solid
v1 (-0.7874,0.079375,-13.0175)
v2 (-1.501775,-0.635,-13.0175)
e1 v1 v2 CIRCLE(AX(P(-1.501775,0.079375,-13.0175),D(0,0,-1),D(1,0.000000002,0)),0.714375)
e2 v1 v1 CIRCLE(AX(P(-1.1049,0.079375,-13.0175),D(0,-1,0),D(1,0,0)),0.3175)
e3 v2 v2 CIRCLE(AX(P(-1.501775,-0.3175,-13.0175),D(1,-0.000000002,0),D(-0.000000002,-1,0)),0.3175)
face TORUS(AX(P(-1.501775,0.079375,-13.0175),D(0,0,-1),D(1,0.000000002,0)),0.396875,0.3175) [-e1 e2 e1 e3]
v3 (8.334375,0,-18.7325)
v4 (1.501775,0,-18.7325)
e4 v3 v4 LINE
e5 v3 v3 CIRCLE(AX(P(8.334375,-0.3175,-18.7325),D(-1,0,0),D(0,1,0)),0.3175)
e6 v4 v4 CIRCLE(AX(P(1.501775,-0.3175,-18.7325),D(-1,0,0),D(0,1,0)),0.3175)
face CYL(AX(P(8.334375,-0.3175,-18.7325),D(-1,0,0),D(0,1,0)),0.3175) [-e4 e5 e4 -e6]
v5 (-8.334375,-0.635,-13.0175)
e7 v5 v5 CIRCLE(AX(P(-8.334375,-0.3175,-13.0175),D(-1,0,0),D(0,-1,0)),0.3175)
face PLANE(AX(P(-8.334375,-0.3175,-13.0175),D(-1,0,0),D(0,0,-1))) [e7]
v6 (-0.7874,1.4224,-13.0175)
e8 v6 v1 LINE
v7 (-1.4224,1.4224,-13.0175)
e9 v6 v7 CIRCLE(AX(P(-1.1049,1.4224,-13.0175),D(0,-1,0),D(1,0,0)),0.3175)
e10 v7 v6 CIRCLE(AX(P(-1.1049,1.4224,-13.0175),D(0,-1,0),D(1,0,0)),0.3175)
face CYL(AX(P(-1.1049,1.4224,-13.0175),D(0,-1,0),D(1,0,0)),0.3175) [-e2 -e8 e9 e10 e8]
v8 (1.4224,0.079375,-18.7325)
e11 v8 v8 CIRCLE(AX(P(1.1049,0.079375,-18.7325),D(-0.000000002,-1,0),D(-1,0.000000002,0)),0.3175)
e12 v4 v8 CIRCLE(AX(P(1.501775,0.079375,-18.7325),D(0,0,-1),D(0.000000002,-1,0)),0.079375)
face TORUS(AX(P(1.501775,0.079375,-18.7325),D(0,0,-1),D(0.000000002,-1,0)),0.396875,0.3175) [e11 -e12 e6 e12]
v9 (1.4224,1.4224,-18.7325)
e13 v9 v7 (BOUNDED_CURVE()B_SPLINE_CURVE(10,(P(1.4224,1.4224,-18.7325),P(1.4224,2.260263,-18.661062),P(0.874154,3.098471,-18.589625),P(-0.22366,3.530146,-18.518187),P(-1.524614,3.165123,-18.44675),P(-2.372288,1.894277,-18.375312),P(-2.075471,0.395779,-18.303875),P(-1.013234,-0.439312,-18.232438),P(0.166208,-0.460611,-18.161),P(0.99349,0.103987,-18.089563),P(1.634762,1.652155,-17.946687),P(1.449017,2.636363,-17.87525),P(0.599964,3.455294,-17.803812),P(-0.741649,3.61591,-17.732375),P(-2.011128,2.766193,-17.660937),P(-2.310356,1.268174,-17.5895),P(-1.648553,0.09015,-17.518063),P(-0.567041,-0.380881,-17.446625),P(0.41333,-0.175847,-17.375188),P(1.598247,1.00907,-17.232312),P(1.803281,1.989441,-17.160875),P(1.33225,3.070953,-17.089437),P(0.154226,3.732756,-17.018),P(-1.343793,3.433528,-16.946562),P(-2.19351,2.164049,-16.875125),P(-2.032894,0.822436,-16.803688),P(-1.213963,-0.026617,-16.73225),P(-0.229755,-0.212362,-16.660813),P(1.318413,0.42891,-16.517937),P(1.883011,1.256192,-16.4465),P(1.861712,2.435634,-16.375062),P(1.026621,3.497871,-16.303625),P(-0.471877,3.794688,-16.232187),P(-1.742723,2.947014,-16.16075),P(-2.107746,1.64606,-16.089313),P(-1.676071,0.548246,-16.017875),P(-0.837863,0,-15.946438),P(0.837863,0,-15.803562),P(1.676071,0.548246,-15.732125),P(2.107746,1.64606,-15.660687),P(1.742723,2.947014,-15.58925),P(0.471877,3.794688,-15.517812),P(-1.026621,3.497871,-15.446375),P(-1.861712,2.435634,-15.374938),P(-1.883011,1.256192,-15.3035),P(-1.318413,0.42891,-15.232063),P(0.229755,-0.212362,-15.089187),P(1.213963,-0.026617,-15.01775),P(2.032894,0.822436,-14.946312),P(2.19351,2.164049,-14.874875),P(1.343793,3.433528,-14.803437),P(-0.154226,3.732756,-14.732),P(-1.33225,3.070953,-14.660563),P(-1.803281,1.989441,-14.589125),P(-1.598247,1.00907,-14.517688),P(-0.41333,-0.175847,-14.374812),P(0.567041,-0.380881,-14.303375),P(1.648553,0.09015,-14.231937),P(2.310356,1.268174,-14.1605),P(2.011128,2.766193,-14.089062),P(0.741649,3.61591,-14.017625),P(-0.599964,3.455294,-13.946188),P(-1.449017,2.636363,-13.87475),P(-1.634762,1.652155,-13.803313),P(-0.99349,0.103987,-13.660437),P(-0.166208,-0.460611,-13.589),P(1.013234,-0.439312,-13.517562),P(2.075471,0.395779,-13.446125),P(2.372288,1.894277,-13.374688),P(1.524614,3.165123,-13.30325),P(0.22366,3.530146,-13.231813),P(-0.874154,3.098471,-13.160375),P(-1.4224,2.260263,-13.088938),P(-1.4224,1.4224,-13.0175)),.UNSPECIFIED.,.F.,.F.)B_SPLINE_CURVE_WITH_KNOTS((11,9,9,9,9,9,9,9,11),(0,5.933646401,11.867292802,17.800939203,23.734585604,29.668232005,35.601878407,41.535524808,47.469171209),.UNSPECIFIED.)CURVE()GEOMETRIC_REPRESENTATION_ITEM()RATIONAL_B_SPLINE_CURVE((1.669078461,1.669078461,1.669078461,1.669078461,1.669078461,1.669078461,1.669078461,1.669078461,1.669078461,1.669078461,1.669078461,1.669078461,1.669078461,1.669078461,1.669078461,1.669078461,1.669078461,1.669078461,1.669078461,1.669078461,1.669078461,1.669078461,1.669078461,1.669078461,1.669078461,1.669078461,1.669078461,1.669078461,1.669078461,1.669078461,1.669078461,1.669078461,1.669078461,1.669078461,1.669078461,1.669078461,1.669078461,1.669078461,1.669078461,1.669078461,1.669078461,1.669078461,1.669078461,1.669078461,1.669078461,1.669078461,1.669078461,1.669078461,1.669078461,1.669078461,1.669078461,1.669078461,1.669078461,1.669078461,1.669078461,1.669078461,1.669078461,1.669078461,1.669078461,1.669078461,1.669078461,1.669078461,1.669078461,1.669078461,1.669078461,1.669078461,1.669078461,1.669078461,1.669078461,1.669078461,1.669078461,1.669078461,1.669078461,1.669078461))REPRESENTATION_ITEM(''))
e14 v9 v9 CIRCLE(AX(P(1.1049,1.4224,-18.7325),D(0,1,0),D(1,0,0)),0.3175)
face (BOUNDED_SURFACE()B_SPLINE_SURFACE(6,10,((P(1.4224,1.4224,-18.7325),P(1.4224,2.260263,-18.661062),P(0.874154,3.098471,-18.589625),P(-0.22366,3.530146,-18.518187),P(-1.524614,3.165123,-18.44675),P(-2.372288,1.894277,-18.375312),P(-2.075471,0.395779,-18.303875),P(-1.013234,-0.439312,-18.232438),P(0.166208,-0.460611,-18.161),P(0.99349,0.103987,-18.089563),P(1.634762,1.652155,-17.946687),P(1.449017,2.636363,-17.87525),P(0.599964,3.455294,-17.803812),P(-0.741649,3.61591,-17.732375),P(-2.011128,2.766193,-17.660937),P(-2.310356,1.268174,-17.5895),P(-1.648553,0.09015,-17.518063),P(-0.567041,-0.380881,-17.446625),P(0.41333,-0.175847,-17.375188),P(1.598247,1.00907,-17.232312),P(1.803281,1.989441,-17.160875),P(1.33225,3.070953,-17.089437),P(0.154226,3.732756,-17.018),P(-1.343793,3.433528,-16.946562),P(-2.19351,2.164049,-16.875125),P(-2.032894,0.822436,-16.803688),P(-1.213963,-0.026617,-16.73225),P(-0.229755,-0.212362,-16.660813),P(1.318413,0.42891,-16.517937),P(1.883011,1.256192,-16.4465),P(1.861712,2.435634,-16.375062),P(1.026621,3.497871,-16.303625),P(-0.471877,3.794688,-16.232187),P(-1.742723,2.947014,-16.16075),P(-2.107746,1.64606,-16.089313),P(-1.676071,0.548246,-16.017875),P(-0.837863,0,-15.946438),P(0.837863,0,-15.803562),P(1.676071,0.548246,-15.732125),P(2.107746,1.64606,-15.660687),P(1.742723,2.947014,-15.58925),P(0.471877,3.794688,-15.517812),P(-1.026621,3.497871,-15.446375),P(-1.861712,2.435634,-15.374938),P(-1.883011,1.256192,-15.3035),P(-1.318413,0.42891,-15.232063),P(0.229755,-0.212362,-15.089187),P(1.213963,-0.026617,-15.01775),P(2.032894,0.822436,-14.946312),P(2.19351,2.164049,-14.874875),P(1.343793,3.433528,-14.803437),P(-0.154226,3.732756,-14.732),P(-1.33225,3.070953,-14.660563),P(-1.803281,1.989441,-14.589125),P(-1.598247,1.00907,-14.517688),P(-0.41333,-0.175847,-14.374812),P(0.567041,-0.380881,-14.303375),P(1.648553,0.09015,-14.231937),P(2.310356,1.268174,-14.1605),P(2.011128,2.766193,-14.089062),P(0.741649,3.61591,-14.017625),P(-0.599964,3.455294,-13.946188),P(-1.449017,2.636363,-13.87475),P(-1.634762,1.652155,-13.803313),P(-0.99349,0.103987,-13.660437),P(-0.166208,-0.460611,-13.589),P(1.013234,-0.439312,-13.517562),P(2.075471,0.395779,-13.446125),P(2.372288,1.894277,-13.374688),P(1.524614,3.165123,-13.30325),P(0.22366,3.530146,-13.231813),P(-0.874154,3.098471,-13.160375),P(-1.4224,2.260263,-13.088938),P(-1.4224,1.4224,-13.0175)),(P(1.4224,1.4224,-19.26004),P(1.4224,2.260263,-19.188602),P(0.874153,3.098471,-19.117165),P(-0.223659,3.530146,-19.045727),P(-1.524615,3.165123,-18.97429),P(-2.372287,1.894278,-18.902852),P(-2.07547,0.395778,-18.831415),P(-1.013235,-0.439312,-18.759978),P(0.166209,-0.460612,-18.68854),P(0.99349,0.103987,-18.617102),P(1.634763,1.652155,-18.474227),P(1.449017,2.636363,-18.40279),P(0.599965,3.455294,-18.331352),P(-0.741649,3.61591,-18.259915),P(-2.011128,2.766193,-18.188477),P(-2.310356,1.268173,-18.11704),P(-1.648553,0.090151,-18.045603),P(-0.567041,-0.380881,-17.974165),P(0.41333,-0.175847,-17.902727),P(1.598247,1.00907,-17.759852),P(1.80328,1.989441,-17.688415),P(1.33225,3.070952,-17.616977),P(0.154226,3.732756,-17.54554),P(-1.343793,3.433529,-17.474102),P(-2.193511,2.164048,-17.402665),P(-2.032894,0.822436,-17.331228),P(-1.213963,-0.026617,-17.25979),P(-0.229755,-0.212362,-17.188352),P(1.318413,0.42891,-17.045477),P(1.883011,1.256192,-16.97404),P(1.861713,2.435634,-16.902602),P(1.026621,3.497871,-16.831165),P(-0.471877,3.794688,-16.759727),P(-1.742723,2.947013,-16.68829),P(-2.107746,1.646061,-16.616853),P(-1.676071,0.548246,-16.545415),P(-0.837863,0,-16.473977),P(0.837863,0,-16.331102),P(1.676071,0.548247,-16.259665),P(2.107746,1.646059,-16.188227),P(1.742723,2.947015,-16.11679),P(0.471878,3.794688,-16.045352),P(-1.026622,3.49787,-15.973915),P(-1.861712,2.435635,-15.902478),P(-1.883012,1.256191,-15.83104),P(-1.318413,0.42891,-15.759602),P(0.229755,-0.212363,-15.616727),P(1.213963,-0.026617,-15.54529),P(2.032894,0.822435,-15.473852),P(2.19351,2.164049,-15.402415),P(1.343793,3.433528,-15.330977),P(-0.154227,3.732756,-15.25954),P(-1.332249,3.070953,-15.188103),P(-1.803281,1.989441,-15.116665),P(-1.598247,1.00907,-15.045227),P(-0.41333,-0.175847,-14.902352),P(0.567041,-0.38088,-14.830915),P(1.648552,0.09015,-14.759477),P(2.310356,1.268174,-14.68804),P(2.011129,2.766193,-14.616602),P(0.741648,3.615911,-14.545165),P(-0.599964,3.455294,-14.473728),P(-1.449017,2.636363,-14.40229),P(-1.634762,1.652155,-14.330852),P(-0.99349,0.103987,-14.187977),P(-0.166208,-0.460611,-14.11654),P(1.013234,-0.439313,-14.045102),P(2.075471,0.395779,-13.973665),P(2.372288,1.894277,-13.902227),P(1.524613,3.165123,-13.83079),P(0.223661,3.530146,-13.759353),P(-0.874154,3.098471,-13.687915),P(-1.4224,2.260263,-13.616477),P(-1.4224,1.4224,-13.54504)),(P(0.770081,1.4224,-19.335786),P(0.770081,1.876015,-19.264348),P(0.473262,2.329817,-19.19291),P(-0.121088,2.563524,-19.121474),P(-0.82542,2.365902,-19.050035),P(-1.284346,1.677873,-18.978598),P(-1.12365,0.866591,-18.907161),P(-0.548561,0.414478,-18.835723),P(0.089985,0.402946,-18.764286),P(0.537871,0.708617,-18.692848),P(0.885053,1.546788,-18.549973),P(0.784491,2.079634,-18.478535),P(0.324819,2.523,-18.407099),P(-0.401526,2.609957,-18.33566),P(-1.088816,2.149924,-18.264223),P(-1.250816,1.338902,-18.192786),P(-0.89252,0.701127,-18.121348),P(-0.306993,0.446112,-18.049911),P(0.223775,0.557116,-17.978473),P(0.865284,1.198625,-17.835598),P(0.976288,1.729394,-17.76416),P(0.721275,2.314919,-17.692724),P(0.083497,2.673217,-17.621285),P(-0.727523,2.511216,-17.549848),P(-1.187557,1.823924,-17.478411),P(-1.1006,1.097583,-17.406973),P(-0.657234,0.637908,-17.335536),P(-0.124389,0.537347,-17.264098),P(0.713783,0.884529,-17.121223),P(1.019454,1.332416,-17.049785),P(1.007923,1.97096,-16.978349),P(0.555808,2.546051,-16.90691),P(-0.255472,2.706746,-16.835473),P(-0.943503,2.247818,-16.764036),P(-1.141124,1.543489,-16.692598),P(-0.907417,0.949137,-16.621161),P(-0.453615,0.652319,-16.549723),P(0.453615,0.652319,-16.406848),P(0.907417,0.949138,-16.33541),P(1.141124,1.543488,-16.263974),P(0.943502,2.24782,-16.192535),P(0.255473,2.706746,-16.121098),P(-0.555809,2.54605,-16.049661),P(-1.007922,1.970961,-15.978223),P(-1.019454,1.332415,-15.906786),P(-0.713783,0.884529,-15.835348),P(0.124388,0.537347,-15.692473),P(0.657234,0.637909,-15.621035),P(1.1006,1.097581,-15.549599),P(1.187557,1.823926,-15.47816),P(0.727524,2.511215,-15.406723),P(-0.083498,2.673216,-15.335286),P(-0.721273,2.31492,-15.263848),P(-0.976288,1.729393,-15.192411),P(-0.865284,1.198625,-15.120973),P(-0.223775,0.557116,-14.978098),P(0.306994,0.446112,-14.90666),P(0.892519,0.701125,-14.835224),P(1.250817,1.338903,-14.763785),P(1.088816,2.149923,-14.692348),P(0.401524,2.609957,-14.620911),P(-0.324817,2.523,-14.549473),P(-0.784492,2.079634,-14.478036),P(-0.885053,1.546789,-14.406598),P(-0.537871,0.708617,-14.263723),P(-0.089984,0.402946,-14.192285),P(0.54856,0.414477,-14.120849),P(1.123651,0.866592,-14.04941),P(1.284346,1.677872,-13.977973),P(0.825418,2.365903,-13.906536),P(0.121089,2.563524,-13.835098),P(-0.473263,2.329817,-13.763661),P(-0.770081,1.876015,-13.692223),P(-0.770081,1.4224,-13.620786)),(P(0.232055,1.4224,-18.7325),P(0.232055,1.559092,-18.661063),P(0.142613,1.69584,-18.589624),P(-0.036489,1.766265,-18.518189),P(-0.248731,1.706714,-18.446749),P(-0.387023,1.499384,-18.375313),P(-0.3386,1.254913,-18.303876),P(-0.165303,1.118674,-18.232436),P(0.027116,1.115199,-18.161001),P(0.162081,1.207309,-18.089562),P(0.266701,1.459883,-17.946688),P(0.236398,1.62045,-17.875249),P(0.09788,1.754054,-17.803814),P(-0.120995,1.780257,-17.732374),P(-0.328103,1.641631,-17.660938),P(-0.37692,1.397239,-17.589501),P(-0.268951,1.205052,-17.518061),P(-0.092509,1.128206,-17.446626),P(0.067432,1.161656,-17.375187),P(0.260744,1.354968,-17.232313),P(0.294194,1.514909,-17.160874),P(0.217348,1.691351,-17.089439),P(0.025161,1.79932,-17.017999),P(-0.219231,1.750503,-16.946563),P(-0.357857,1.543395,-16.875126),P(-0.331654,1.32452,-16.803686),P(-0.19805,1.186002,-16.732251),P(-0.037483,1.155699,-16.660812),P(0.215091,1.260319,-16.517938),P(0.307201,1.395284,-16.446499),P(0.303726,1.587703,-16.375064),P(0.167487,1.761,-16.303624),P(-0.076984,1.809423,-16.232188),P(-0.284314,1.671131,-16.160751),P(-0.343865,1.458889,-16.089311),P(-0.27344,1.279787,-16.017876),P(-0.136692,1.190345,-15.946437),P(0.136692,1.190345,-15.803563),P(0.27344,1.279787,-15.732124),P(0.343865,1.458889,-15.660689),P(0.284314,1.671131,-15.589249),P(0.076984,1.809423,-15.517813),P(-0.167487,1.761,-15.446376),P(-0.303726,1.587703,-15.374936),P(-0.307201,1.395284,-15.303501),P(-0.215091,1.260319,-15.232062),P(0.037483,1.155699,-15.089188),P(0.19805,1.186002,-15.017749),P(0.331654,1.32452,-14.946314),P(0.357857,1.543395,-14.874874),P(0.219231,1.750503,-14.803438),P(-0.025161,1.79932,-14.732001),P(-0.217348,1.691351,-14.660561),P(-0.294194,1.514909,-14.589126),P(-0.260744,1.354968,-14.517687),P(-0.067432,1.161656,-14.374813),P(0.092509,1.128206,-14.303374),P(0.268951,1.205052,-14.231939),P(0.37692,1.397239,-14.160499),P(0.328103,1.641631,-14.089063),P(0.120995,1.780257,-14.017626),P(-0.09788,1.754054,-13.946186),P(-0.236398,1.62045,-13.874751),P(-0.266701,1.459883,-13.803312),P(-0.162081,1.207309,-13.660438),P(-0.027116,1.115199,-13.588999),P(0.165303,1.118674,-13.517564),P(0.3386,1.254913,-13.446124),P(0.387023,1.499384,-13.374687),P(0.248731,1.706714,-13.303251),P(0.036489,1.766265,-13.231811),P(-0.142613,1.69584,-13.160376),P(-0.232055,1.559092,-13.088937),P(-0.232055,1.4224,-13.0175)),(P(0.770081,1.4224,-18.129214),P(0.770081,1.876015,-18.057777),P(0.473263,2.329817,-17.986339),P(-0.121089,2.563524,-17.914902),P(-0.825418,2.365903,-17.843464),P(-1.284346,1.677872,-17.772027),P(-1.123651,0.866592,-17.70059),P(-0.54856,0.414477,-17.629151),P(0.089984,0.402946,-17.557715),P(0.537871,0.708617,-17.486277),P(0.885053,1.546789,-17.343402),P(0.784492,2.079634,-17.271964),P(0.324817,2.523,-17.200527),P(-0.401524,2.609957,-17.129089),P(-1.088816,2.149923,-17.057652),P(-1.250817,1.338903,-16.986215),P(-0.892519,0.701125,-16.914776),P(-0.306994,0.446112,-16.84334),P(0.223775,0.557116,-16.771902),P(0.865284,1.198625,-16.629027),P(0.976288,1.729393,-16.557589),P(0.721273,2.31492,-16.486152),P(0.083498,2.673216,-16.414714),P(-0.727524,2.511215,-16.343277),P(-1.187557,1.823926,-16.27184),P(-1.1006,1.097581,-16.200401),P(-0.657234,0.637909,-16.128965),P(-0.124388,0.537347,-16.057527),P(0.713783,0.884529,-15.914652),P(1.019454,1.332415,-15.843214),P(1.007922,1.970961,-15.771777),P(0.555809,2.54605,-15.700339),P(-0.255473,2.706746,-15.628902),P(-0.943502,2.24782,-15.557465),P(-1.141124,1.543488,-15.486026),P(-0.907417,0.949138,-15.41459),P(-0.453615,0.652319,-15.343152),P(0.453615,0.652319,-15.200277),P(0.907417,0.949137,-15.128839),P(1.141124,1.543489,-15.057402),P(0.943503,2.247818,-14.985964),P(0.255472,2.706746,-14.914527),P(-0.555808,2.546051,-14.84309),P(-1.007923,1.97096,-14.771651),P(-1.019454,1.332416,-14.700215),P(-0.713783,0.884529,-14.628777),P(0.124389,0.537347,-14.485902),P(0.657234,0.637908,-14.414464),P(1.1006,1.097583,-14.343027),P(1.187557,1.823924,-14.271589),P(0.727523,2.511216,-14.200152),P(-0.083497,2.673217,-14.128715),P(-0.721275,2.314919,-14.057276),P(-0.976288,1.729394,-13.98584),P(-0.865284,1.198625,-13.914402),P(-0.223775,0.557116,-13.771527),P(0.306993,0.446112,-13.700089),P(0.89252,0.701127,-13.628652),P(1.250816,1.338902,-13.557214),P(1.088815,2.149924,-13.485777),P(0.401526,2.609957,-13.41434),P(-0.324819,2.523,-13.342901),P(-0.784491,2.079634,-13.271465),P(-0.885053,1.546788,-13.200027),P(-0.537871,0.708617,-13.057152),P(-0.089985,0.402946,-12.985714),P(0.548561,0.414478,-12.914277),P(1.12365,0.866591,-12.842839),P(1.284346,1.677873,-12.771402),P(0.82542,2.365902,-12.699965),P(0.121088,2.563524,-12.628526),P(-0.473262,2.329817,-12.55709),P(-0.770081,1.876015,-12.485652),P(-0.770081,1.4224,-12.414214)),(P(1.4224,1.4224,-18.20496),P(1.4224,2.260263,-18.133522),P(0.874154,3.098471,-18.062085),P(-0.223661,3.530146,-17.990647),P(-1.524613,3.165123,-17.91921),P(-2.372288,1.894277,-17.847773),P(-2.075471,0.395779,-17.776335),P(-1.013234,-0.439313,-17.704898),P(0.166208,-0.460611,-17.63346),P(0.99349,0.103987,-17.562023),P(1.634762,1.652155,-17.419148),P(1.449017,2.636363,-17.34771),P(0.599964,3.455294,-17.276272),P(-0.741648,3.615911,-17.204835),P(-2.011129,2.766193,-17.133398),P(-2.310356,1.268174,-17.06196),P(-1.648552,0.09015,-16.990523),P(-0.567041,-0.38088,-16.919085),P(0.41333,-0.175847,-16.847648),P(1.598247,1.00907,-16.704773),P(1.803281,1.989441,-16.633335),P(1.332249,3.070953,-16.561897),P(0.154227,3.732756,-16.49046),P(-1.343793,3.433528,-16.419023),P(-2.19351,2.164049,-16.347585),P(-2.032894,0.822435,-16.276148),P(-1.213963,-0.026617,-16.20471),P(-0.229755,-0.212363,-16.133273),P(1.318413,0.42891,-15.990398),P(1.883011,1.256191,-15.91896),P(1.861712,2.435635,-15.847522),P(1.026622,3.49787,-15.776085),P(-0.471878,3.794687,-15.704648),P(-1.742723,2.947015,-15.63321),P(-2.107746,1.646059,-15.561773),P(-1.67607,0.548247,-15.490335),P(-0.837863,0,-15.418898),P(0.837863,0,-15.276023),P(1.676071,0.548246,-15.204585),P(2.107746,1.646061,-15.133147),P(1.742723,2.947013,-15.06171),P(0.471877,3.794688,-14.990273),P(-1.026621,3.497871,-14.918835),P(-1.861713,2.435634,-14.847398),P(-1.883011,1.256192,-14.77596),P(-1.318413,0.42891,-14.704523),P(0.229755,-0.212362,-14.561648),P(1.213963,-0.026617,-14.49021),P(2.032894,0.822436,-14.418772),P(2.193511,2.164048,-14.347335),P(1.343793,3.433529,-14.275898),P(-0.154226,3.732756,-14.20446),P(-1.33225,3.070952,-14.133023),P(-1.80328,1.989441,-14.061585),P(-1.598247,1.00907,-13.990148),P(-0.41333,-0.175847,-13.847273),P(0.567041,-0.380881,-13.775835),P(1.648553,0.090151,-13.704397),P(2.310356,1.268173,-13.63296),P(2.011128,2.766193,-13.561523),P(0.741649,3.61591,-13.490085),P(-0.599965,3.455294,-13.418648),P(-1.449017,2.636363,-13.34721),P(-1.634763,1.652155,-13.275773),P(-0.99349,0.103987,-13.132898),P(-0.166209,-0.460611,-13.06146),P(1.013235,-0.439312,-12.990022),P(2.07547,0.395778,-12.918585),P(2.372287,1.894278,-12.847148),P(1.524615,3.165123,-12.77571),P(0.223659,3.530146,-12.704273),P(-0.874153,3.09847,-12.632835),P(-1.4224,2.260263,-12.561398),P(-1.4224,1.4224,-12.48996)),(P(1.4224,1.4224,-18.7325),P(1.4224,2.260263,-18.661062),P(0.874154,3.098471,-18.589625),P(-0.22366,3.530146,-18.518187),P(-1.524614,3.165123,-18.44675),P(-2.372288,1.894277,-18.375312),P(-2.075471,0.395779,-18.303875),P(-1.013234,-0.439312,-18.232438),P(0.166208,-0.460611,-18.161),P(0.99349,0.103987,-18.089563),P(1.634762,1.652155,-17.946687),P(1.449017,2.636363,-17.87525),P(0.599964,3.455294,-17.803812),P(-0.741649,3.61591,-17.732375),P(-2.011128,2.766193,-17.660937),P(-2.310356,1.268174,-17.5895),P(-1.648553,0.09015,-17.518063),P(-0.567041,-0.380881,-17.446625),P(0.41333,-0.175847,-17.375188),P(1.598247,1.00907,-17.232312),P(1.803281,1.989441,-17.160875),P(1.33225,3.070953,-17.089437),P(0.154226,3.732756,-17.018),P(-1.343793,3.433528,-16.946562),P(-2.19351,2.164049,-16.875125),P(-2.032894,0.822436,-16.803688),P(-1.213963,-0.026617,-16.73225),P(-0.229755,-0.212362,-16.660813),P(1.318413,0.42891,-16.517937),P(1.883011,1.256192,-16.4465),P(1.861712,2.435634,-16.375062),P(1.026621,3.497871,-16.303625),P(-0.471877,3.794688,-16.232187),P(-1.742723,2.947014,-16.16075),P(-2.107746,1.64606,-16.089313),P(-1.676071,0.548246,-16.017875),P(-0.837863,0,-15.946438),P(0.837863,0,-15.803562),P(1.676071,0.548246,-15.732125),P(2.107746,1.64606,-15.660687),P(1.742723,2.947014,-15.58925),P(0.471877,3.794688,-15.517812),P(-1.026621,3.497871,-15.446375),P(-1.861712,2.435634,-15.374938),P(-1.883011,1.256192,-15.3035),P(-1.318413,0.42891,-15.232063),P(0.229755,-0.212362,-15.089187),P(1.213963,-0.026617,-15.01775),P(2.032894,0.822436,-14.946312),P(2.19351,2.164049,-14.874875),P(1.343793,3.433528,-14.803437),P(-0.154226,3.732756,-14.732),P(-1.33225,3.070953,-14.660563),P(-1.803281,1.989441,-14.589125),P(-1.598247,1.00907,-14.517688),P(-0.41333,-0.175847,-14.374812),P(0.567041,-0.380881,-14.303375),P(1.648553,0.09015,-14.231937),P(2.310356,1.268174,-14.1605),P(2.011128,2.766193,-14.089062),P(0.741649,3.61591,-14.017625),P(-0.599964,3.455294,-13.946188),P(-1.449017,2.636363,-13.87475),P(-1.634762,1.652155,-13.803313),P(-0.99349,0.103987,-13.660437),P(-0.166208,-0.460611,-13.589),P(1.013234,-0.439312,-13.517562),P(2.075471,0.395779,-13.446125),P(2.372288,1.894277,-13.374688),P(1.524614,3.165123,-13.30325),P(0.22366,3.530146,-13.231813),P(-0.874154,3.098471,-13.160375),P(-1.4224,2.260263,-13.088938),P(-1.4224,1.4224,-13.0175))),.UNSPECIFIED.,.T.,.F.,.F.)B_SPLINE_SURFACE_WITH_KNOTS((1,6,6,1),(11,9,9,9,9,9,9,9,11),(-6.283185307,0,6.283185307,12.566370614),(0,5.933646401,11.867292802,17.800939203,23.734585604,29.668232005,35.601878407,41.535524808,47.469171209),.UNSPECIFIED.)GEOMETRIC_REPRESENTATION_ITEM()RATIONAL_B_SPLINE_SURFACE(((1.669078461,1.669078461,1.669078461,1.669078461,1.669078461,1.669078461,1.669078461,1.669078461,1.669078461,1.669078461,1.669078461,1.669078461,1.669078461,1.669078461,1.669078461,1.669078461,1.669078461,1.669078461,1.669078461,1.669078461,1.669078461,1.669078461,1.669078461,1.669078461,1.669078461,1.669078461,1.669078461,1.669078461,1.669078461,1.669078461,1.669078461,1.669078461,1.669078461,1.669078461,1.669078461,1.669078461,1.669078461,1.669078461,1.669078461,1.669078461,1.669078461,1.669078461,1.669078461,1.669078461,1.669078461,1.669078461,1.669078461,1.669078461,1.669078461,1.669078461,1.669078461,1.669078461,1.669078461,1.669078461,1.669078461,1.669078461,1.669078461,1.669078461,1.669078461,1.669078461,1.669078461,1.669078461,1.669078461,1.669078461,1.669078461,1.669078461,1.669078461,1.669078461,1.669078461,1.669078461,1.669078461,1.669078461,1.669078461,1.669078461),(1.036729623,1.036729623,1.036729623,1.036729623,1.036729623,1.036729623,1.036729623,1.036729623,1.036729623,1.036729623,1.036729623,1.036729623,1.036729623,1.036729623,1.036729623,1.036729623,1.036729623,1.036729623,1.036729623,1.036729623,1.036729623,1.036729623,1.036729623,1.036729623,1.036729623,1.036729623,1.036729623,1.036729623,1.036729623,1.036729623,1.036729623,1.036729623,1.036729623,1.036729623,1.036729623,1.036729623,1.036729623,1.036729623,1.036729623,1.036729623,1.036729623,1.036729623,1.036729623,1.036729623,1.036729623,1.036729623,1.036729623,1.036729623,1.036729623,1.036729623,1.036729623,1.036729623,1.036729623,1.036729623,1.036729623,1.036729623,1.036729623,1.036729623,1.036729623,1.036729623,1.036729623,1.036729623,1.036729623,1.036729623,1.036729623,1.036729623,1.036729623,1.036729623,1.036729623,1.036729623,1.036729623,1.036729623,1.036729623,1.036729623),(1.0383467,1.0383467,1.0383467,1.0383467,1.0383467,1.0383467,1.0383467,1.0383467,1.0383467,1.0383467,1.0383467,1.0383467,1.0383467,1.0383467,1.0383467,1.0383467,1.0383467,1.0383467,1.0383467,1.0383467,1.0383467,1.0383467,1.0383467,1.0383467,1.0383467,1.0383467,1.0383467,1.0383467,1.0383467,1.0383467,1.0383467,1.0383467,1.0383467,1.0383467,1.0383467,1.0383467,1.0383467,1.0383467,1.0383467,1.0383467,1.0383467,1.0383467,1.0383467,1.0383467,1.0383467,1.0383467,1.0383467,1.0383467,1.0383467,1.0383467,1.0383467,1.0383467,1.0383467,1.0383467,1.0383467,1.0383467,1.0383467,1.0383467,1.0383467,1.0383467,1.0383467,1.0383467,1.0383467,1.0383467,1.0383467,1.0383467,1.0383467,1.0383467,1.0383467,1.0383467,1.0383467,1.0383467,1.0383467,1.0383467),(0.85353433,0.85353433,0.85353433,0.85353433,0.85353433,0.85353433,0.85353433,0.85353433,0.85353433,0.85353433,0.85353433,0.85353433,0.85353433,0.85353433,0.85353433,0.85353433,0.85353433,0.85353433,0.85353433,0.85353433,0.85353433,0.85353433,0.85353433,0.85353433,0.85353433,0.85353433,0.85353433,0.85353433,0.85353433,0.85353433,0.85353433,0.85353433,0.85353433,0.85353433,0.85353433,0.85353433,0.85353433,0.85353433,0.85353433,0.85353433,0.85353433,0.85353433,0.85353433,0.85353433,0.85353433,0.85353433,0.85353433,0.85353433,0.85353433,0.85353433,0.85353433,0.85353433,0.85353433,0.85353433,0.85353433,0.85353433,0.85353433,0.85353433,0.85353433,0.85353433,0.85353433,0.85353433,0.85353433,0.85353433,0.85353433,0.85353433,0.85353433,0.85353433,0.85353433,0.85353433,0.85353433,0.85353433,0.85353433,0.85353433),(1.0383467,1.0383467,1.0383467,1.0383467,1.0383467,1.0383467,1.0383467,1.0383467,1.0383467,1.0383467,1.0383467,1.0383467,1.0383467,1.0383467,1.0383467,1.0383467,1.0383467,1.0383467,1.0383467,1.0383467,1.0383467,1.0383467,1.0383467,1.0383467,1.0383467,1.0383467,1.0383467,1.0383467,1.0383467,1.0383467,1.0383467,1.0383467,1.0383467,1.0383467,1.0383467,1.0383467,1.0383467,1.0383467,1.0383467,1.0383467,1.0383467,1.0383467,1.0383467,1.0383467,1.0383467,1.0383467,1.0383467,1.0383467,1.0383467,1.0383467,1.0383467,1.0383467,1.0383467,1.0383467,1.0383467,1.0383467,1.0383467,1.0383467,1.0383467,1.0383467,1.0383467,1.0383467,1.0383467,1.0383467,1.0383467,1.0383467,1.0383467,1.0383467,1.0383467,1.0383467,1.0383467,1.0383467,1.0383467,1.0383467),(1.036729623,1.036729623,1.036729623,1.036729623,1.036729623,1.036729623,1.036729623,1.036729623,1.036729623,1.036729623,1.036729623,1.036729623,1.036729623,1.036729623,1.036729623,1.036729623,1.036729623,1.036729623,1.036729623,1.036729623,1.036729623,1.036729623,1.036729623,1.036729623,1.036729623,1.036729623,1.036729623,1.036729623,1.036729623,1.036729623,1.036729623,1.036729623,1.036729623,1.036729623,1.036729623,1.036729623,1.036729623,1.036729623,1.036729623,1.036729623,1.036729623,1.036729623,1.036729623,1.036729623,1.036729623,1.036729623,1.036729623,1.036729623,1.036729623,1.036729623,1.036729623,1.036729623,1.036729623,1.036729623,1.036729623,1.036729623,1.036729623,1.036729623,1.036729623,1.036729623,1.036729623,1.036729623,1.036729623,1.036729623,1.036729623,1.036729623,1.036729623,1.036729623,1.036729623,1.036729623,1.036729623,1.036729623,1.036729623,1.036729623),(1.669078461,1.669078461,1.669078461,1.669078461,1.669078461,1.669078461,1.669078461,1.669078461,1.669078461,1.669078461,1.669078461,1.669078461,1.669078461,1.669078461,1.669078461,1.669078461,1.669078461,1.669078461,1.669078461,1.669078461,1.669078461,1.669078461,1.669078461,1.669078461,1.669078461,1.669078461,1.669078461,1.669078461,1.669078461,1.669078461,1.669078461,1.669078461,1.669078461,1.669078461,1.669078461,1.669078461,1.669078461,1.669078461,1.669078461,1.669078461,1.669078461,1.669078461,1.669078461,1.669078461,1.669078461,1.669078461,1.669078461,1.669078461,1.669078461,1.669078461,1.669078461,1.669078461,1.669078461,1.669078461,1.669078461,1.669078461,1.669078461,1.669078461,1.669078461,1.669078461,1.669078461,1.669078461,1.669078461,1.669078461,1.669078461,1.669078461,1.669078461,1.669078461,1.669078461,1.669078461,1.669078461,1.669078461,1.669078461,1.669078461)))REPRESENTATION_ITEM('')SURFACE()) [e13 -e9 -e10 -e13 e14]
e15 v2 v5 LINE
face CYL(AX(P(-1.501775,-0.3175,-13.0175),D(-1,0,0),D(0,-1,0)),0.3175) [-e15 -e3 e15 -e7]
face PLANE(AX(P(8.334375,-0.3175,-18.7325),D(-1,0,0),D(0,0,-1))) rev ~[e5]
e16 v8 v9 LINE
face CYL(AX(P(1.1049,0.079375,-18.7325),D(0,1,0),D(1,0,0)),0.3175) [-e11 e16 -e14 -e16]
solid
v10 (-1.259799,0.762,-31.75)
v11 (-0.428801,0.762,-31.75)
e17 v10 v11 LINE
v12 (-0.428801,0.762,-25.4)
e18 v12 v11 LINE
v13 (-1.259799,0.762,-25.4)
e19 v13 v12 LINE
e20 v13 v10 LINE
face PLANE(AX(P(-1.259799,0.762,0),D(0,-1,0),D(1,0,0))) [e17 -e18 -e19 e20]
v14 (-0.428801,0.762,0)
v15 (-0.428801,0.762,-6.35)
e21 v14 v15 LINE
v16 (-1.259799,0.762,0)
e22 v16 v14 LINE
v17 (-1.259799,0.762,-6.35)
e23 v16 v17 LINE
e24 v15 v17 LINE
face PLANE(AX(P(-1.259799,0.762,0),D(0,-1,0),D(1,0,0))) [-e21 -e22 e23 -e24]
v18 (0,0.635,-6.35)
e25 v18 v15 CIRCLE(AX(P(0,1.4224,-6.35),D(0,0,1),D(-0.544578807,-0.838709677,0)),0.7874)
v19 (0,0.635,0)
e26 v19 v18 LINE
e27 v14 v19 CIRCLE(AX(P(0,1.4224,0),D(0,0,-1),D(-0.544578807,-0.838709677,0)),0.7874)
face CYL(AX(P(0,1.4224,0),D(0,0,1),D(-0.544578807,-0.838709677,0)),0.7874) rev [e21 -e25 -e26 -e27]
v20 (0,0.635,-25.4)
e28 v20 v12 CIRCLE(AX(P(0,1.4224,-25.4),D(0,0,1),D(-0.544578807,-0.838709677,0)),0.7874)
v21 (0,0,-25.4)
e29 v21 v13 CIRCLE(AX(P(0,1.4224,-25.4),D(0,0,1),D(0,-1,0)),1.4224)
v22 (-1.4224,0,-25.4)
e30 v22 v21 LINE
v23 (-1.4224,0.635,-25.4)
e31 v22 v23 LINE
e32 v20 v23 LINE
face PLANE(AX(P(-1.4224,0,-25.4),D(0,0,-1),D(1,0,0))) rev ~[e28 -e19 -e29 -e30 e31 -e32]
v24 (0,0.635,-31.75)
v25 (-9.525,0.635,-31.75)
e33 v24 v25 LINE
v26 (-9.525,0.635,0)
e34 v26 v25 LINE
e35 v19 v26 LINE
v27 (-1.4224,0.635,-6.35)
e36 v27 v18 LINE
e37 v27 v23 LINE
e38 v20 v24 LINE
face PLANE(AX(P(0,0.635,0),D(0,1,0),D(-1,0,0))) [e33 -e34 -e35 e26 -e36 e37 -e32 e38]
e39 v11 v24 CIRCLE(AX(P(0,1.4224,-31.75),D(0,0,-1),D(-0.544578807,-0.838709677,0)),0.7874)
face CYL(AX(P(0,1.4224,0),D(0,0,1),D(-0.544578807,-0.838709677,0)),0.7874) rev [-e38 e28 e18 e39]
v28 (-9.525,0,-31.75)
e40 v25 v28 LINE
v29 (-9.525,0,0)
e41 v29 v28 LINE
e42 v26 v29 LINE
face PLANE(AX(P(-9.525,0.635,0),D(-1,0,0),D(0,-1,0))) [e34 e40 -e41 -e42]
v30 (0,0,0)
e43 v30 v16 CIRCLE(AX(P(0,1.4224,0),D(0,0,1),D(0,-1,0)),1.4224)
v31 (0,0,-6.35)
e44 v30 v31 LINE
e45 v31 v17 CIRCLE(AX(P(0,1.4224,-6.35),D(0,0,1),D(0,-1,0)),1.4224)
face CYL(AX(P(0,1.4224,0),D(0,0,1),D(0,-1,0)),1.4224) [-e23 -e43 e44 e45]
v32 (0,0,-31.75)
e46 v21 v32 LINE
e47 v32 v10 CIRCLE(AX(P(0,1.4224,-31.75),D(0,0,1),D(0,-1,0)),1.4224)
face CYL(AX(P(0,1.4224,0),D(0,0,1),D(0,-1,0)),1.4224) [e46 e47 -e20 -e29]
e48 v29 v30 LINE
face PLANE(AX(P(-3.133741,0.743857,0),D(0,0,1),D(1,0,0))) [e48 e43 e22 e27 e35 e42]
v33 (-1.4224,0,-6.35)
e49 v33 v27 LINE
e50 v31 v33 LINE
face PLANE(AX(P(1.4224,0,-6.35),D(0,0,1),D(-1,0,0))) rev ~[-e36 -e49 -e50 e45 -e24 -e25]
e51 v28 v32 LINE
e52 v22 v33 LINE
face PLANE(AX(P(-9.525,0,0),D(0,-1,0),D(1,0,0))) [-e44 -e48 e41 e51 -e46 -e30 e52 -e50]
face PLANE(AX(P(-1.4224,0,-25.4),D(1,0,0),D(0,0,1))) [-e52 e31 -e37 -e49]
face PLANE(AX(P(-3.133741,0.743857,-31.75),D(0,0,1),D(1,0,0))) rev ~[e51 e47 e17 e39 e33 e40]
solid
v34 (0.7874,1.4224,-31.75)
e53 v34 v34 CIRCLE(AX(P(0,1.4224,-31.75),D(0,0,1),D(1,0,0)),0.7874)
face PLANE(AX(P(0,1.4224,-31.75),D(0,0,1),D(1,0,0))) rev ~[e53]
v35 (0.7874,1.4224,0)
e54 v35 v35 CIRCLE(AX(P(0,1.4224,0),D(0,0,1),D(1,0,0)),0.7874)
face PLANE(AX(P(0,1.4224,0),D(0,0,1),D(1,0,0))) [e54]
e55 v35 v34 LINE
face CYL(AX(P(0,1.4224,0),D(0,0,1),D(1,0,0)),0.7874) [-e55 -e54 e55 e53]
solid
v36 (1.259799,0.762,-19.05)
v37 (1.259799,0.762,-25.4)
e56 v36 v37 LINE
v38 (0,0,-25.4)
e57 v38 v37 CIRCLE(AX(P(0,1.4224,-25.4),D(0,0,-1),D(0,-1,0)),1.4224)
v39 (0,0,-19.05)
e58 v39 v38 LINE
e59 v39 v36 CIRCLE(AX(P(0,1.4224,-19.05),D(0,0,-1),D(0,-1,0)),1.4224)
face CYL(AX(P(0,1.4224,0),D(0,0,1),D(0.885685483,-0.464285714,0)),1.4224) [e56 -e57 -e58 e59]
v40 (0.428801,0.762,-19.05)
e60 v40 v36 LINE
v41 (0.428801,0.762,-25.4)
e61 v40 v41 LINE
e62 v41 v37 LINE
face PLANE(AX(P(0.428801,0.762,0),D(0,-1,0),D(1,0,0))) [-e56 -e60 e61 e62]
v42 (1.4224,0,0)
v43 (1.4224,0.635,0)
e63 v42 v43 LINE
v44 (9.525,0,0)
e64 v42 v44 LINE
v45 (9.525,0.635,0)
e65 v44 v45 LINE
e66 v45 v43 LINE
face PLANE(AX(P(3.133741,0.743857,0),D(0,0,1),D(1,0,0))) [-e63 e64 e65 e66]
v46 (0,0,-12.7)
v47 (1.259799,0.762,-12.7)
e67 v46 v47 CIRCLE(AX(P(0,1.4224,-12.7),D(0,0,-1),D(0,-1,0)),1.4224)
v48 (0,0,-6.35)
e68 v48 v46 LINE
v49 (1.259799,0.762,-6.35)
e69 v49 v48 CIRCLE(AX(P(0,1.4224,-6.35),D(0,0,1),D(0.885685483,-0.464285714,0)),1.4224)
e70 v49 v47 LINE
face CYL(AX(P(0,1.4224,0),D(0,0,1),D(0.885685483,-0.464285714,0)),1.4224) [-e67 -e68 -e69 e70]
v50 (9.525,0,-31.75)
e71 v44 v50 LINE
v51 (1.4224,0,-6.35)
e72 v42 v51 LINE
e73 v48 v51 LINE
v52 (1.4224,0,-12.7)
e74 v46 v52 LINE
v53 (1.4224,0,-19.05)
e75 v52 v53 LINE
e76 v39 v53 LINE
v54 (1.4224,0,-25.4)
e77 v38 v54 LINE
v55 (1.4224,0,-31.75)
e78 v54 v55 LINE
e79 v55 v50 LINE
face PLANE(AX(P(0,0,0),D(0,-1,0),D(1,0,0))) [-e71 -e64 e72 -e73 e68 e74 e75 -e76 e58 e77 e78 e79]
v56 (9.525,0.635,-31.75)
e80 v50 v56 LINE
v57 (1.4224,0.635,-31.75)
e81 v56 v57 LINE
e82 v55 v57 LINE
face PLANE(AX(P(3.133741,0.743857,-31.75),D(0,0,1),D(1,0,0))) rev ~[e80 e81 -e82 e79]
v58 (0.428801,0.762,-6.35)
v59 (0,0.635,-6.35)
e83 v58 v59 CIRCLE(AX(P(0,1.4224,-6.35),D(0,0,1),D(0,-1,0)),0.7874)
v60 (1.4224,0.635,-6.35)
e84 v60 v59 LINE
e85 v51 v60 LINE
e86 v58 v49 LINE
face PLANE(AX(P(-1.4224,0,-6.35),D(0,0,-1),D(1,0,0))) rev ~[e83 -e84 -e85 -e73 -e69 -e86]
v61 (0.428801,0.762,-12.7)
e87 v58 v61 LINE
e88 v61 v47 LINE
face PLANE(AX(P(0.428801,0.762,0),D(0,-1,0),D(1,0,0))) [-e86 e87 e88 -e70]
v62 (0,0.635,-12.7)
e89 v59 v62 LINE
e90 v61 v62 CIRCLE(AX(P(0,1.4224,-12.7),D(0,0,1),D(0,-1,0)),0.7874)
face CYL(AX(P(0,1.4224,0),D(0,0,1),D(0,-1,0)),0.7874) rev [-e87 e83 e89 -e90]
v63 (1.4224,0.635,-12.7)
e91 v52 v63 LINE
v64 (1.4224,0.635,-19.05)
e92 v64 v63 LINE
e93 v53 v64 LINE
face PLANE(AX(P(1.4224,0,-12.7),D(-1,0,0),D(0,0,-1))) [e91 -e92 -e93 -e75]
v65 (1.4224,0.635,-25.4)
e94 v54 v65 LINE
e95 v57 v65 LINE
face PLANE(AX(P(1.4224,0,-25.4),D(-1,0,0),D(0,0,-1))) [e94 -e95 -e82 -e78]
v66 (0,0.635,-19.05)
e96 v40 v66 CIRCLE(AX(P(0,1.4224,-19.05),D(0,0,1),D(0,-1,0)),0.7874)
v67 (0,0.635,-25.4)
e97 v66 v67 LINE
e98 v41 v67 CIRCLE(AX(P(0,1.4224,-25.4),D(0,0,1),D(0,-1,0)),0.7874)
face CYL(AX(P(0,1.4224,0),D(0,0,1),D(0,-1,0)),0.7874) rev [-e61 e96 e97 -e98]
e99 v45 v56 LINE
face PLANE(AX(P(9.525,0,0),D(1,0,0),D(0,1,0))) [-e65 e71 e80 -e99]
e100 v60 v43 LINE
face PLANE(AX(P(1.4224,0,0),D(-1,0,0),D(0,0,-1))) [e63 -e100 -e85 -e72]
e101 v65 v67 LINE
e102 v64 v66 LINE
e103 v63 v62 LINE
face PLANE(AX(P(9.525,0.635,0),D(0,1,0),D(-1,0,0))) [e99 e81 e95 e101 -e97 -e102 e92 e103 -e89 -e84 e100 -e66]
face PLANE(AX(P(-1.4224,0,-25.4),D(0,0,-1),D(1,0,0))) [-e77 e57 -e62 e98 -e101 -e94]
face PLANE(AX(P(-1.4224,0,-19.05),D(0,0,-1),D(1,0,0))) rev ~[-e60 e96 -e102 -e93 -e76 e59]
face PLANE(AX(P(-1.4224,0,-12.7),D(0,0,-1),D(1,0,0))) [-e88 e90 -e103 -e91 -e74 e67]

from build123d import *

# Parameters (mm, degrees)
EXTRUDE1_DEPTH     = 31.75
CUT_EXTRUDE1_DEPTH = 34.269821341
EXTRUDE2_DEPTH     = 31.75
SKETCH4_W          = 2.8448
SKETCH4_H          = 6.35
CUT_EXTRUDE2_DEPTH = 34.269821341
SKETCH5_R          = 0.7874
EXTRUDE3_DEPTH     = 31.75
SWEEP12_PITCH      = 0.762
SWEEP12_HEIGHT     = 5.715
SWEEP12_RADIUS     = 1.1049
SKETCH6_R          = 0.3175
SKETCH6_4_R        = 0.3175
SKETCH11_R         = 0.3175


with BuildPart() as part:
    # Sketch1 → Extrude1 (new body)
    with BuildSketch(Plane.XY):
        with BuildLine():
            Line((-9.525, 0), (0, 0))
            ThreePointArc((0, 0), (0.736161939, 2.639481493), (-1.259799032, 0.762))
            Line((-1.259799032, 0.762), (-0.428801353, 0.762))
            ThreePointArc((-0.428801353, 0.762), (0.223606574, 2.177382689), (0, 0.635))
            Line((0, 0.635), (-9.525, 0.635))
            Line((-9.525, 0.635), (-9.525, 0))
        make_face()
    extrude(amount=-EXTRUDE1_DEPTH)

    # Sketch2 → Cut-Extrude1 (cut, through all)
    with BuildSketch(Plane(origin=(0, 0, 0), x_dir=(1, 0, 0), z_dir=(0, 1, 0))):
        Polygon((1.4224, 6.35), (-1.4224, 6.35), (-1.4224, 12.7), (-1.4224, 19.05), (-1.4224, 25.4), (1.4224, 25.4), (1.4224, 19.05), (1.4224, 12.7), align=None)
    extrude(amount=CUT_EXTRUDE1_DEPTH, mode=Mode.SUBTRACT)


with BuildPart() as body_2:
    # Sketch3 → Extrude2 (new body)
    with BuildSketch(Plane.XY):
        with BuildLine():
            Line((0, 0), (9.525, 0))
            Line((9.525, 0), (9.525, 0.635))
            Line((9.525, 0.635), (0, 0.635))
            ThreePointArc((0, 0.635), (-0.223606574, 2.177382689), (0.428801353, 0.762))
            Line((0.428801353, 0.762), (1.259799032, 0.762))
            ThreePointArc((1.259799032, 0.762), (-0.736161939, 2.639481493), (0, 0))
        make_face()
    extrude(amount=-EXTRUDE2_DEPTH)

    # Sketch4 → Cut-Extrude2 (cut, through all)
    with BuildSketch(Plane(origin=(0, 0, 0), x_dir=(1, 0, 0), z_dir=(0, 1, 0))):
        with Locations((0, 15.875)):
            Rectangle(SKETCH4_W, SKETCH4_H)
        with Locations((0, 3.175)):
            Rectangle(SKETCH4_W, SKETCH4_H)
        with Locations((0, 28.575)):
            Rectangle(SKETCH4_W, SKETCH4_H)
    extrude(amount=CUT_EXTRUDE2_DEPTH, mode=Mode.SUBTRACT)


with BuildPart() as body_3:
    # Sketch5 → Extrude3 (new body)
    with BuildSketch(Plane.XY):
        with Locations((0, 1.4224)):
            Circle(SKETCH5_R)
    extrude(amount=-EXTRUDE3_DEPTH)


with BuildPart() as body_4:
    # Sweep12: sweep along a helix
    with BuildLine() as sweep12_path:
        Helix(SWEEP12_PITCH, SWEEP12_HEIGHT, SWEEP12_RADIUS, center=(0, 1.4224, -18.7325), direction=(0, 0, 1))
    # Sketch6 → Sweep12 (sweep)
    with BuildSketch(Plane(origin=(-38.1, 1.4224, -35.9283), x_dir=(1, 0, 0), z_dir=(0, 1, 0))):
        with Locations((39.2049, -17.1958)):
            Circle(SKETCH6_R)
    sweep(path=sweep12_path.line, is_frenet=True)


with BuildPart() as body_5:
    # Sweep5: sweep along a path in Sketch10
    with BuildLine(Plane.XY.offset(-18.7325)) as sweep5_path:
        Line((8.334375, -0.3175), (1.501775, -0.3175))
        ThreePointArc((1.501775, -0.3175), (1.221141996, -0.201258004), (1.1049, 0.079375))
        Line((1.1049, 0.079375), (1.1049, 1.4224))
    # Sketch6<4> → Sweep5 (sweep)
    with BuildSketch(Plane(origin=(-38.1, 1.4224, -35.9283), x_dir=(1, 0, 0), z_dir=(0, 1, 0))):
        with Locations((39.2049, -17.1958)):
            Circle(SKETCH6_4_R)
    sweep(path=sweep5_path.line)


with BuildPart() as body_6:
    # Sweep7: sweep along a path in Sketch12
    with BuildLine(Plane.XY.offset(-13.0175)) as sweep7_path:
        Line((-1.1049, 1.4224), (-1.1049, 0.079375))
        ThreePointArc((-1.1049, 0.079375), (-1.221141996, -0.201258004), (-1.501775, -0.3175))
        Line((-1.501775, -0.3175), (-8.334375, -0.3175))
    # Sketch11 → Sweep7 (sweep)
    with BuildSketch(Plane.XZ.offset(-1.4224)):
        with Locations((-1.1049, -13.0175)):
            Circle(SKETCH11_R)
    sweep(path=sweep7_path.line)


with BuildPart() as body_5_1:
    add(body_5.part)

    # Combine1: union body 6, body 4
    add(body_6.part)
    add(body_4.part)


solid = Compound([part.part, body_2.part, body_3.part, body_5_1.part])
